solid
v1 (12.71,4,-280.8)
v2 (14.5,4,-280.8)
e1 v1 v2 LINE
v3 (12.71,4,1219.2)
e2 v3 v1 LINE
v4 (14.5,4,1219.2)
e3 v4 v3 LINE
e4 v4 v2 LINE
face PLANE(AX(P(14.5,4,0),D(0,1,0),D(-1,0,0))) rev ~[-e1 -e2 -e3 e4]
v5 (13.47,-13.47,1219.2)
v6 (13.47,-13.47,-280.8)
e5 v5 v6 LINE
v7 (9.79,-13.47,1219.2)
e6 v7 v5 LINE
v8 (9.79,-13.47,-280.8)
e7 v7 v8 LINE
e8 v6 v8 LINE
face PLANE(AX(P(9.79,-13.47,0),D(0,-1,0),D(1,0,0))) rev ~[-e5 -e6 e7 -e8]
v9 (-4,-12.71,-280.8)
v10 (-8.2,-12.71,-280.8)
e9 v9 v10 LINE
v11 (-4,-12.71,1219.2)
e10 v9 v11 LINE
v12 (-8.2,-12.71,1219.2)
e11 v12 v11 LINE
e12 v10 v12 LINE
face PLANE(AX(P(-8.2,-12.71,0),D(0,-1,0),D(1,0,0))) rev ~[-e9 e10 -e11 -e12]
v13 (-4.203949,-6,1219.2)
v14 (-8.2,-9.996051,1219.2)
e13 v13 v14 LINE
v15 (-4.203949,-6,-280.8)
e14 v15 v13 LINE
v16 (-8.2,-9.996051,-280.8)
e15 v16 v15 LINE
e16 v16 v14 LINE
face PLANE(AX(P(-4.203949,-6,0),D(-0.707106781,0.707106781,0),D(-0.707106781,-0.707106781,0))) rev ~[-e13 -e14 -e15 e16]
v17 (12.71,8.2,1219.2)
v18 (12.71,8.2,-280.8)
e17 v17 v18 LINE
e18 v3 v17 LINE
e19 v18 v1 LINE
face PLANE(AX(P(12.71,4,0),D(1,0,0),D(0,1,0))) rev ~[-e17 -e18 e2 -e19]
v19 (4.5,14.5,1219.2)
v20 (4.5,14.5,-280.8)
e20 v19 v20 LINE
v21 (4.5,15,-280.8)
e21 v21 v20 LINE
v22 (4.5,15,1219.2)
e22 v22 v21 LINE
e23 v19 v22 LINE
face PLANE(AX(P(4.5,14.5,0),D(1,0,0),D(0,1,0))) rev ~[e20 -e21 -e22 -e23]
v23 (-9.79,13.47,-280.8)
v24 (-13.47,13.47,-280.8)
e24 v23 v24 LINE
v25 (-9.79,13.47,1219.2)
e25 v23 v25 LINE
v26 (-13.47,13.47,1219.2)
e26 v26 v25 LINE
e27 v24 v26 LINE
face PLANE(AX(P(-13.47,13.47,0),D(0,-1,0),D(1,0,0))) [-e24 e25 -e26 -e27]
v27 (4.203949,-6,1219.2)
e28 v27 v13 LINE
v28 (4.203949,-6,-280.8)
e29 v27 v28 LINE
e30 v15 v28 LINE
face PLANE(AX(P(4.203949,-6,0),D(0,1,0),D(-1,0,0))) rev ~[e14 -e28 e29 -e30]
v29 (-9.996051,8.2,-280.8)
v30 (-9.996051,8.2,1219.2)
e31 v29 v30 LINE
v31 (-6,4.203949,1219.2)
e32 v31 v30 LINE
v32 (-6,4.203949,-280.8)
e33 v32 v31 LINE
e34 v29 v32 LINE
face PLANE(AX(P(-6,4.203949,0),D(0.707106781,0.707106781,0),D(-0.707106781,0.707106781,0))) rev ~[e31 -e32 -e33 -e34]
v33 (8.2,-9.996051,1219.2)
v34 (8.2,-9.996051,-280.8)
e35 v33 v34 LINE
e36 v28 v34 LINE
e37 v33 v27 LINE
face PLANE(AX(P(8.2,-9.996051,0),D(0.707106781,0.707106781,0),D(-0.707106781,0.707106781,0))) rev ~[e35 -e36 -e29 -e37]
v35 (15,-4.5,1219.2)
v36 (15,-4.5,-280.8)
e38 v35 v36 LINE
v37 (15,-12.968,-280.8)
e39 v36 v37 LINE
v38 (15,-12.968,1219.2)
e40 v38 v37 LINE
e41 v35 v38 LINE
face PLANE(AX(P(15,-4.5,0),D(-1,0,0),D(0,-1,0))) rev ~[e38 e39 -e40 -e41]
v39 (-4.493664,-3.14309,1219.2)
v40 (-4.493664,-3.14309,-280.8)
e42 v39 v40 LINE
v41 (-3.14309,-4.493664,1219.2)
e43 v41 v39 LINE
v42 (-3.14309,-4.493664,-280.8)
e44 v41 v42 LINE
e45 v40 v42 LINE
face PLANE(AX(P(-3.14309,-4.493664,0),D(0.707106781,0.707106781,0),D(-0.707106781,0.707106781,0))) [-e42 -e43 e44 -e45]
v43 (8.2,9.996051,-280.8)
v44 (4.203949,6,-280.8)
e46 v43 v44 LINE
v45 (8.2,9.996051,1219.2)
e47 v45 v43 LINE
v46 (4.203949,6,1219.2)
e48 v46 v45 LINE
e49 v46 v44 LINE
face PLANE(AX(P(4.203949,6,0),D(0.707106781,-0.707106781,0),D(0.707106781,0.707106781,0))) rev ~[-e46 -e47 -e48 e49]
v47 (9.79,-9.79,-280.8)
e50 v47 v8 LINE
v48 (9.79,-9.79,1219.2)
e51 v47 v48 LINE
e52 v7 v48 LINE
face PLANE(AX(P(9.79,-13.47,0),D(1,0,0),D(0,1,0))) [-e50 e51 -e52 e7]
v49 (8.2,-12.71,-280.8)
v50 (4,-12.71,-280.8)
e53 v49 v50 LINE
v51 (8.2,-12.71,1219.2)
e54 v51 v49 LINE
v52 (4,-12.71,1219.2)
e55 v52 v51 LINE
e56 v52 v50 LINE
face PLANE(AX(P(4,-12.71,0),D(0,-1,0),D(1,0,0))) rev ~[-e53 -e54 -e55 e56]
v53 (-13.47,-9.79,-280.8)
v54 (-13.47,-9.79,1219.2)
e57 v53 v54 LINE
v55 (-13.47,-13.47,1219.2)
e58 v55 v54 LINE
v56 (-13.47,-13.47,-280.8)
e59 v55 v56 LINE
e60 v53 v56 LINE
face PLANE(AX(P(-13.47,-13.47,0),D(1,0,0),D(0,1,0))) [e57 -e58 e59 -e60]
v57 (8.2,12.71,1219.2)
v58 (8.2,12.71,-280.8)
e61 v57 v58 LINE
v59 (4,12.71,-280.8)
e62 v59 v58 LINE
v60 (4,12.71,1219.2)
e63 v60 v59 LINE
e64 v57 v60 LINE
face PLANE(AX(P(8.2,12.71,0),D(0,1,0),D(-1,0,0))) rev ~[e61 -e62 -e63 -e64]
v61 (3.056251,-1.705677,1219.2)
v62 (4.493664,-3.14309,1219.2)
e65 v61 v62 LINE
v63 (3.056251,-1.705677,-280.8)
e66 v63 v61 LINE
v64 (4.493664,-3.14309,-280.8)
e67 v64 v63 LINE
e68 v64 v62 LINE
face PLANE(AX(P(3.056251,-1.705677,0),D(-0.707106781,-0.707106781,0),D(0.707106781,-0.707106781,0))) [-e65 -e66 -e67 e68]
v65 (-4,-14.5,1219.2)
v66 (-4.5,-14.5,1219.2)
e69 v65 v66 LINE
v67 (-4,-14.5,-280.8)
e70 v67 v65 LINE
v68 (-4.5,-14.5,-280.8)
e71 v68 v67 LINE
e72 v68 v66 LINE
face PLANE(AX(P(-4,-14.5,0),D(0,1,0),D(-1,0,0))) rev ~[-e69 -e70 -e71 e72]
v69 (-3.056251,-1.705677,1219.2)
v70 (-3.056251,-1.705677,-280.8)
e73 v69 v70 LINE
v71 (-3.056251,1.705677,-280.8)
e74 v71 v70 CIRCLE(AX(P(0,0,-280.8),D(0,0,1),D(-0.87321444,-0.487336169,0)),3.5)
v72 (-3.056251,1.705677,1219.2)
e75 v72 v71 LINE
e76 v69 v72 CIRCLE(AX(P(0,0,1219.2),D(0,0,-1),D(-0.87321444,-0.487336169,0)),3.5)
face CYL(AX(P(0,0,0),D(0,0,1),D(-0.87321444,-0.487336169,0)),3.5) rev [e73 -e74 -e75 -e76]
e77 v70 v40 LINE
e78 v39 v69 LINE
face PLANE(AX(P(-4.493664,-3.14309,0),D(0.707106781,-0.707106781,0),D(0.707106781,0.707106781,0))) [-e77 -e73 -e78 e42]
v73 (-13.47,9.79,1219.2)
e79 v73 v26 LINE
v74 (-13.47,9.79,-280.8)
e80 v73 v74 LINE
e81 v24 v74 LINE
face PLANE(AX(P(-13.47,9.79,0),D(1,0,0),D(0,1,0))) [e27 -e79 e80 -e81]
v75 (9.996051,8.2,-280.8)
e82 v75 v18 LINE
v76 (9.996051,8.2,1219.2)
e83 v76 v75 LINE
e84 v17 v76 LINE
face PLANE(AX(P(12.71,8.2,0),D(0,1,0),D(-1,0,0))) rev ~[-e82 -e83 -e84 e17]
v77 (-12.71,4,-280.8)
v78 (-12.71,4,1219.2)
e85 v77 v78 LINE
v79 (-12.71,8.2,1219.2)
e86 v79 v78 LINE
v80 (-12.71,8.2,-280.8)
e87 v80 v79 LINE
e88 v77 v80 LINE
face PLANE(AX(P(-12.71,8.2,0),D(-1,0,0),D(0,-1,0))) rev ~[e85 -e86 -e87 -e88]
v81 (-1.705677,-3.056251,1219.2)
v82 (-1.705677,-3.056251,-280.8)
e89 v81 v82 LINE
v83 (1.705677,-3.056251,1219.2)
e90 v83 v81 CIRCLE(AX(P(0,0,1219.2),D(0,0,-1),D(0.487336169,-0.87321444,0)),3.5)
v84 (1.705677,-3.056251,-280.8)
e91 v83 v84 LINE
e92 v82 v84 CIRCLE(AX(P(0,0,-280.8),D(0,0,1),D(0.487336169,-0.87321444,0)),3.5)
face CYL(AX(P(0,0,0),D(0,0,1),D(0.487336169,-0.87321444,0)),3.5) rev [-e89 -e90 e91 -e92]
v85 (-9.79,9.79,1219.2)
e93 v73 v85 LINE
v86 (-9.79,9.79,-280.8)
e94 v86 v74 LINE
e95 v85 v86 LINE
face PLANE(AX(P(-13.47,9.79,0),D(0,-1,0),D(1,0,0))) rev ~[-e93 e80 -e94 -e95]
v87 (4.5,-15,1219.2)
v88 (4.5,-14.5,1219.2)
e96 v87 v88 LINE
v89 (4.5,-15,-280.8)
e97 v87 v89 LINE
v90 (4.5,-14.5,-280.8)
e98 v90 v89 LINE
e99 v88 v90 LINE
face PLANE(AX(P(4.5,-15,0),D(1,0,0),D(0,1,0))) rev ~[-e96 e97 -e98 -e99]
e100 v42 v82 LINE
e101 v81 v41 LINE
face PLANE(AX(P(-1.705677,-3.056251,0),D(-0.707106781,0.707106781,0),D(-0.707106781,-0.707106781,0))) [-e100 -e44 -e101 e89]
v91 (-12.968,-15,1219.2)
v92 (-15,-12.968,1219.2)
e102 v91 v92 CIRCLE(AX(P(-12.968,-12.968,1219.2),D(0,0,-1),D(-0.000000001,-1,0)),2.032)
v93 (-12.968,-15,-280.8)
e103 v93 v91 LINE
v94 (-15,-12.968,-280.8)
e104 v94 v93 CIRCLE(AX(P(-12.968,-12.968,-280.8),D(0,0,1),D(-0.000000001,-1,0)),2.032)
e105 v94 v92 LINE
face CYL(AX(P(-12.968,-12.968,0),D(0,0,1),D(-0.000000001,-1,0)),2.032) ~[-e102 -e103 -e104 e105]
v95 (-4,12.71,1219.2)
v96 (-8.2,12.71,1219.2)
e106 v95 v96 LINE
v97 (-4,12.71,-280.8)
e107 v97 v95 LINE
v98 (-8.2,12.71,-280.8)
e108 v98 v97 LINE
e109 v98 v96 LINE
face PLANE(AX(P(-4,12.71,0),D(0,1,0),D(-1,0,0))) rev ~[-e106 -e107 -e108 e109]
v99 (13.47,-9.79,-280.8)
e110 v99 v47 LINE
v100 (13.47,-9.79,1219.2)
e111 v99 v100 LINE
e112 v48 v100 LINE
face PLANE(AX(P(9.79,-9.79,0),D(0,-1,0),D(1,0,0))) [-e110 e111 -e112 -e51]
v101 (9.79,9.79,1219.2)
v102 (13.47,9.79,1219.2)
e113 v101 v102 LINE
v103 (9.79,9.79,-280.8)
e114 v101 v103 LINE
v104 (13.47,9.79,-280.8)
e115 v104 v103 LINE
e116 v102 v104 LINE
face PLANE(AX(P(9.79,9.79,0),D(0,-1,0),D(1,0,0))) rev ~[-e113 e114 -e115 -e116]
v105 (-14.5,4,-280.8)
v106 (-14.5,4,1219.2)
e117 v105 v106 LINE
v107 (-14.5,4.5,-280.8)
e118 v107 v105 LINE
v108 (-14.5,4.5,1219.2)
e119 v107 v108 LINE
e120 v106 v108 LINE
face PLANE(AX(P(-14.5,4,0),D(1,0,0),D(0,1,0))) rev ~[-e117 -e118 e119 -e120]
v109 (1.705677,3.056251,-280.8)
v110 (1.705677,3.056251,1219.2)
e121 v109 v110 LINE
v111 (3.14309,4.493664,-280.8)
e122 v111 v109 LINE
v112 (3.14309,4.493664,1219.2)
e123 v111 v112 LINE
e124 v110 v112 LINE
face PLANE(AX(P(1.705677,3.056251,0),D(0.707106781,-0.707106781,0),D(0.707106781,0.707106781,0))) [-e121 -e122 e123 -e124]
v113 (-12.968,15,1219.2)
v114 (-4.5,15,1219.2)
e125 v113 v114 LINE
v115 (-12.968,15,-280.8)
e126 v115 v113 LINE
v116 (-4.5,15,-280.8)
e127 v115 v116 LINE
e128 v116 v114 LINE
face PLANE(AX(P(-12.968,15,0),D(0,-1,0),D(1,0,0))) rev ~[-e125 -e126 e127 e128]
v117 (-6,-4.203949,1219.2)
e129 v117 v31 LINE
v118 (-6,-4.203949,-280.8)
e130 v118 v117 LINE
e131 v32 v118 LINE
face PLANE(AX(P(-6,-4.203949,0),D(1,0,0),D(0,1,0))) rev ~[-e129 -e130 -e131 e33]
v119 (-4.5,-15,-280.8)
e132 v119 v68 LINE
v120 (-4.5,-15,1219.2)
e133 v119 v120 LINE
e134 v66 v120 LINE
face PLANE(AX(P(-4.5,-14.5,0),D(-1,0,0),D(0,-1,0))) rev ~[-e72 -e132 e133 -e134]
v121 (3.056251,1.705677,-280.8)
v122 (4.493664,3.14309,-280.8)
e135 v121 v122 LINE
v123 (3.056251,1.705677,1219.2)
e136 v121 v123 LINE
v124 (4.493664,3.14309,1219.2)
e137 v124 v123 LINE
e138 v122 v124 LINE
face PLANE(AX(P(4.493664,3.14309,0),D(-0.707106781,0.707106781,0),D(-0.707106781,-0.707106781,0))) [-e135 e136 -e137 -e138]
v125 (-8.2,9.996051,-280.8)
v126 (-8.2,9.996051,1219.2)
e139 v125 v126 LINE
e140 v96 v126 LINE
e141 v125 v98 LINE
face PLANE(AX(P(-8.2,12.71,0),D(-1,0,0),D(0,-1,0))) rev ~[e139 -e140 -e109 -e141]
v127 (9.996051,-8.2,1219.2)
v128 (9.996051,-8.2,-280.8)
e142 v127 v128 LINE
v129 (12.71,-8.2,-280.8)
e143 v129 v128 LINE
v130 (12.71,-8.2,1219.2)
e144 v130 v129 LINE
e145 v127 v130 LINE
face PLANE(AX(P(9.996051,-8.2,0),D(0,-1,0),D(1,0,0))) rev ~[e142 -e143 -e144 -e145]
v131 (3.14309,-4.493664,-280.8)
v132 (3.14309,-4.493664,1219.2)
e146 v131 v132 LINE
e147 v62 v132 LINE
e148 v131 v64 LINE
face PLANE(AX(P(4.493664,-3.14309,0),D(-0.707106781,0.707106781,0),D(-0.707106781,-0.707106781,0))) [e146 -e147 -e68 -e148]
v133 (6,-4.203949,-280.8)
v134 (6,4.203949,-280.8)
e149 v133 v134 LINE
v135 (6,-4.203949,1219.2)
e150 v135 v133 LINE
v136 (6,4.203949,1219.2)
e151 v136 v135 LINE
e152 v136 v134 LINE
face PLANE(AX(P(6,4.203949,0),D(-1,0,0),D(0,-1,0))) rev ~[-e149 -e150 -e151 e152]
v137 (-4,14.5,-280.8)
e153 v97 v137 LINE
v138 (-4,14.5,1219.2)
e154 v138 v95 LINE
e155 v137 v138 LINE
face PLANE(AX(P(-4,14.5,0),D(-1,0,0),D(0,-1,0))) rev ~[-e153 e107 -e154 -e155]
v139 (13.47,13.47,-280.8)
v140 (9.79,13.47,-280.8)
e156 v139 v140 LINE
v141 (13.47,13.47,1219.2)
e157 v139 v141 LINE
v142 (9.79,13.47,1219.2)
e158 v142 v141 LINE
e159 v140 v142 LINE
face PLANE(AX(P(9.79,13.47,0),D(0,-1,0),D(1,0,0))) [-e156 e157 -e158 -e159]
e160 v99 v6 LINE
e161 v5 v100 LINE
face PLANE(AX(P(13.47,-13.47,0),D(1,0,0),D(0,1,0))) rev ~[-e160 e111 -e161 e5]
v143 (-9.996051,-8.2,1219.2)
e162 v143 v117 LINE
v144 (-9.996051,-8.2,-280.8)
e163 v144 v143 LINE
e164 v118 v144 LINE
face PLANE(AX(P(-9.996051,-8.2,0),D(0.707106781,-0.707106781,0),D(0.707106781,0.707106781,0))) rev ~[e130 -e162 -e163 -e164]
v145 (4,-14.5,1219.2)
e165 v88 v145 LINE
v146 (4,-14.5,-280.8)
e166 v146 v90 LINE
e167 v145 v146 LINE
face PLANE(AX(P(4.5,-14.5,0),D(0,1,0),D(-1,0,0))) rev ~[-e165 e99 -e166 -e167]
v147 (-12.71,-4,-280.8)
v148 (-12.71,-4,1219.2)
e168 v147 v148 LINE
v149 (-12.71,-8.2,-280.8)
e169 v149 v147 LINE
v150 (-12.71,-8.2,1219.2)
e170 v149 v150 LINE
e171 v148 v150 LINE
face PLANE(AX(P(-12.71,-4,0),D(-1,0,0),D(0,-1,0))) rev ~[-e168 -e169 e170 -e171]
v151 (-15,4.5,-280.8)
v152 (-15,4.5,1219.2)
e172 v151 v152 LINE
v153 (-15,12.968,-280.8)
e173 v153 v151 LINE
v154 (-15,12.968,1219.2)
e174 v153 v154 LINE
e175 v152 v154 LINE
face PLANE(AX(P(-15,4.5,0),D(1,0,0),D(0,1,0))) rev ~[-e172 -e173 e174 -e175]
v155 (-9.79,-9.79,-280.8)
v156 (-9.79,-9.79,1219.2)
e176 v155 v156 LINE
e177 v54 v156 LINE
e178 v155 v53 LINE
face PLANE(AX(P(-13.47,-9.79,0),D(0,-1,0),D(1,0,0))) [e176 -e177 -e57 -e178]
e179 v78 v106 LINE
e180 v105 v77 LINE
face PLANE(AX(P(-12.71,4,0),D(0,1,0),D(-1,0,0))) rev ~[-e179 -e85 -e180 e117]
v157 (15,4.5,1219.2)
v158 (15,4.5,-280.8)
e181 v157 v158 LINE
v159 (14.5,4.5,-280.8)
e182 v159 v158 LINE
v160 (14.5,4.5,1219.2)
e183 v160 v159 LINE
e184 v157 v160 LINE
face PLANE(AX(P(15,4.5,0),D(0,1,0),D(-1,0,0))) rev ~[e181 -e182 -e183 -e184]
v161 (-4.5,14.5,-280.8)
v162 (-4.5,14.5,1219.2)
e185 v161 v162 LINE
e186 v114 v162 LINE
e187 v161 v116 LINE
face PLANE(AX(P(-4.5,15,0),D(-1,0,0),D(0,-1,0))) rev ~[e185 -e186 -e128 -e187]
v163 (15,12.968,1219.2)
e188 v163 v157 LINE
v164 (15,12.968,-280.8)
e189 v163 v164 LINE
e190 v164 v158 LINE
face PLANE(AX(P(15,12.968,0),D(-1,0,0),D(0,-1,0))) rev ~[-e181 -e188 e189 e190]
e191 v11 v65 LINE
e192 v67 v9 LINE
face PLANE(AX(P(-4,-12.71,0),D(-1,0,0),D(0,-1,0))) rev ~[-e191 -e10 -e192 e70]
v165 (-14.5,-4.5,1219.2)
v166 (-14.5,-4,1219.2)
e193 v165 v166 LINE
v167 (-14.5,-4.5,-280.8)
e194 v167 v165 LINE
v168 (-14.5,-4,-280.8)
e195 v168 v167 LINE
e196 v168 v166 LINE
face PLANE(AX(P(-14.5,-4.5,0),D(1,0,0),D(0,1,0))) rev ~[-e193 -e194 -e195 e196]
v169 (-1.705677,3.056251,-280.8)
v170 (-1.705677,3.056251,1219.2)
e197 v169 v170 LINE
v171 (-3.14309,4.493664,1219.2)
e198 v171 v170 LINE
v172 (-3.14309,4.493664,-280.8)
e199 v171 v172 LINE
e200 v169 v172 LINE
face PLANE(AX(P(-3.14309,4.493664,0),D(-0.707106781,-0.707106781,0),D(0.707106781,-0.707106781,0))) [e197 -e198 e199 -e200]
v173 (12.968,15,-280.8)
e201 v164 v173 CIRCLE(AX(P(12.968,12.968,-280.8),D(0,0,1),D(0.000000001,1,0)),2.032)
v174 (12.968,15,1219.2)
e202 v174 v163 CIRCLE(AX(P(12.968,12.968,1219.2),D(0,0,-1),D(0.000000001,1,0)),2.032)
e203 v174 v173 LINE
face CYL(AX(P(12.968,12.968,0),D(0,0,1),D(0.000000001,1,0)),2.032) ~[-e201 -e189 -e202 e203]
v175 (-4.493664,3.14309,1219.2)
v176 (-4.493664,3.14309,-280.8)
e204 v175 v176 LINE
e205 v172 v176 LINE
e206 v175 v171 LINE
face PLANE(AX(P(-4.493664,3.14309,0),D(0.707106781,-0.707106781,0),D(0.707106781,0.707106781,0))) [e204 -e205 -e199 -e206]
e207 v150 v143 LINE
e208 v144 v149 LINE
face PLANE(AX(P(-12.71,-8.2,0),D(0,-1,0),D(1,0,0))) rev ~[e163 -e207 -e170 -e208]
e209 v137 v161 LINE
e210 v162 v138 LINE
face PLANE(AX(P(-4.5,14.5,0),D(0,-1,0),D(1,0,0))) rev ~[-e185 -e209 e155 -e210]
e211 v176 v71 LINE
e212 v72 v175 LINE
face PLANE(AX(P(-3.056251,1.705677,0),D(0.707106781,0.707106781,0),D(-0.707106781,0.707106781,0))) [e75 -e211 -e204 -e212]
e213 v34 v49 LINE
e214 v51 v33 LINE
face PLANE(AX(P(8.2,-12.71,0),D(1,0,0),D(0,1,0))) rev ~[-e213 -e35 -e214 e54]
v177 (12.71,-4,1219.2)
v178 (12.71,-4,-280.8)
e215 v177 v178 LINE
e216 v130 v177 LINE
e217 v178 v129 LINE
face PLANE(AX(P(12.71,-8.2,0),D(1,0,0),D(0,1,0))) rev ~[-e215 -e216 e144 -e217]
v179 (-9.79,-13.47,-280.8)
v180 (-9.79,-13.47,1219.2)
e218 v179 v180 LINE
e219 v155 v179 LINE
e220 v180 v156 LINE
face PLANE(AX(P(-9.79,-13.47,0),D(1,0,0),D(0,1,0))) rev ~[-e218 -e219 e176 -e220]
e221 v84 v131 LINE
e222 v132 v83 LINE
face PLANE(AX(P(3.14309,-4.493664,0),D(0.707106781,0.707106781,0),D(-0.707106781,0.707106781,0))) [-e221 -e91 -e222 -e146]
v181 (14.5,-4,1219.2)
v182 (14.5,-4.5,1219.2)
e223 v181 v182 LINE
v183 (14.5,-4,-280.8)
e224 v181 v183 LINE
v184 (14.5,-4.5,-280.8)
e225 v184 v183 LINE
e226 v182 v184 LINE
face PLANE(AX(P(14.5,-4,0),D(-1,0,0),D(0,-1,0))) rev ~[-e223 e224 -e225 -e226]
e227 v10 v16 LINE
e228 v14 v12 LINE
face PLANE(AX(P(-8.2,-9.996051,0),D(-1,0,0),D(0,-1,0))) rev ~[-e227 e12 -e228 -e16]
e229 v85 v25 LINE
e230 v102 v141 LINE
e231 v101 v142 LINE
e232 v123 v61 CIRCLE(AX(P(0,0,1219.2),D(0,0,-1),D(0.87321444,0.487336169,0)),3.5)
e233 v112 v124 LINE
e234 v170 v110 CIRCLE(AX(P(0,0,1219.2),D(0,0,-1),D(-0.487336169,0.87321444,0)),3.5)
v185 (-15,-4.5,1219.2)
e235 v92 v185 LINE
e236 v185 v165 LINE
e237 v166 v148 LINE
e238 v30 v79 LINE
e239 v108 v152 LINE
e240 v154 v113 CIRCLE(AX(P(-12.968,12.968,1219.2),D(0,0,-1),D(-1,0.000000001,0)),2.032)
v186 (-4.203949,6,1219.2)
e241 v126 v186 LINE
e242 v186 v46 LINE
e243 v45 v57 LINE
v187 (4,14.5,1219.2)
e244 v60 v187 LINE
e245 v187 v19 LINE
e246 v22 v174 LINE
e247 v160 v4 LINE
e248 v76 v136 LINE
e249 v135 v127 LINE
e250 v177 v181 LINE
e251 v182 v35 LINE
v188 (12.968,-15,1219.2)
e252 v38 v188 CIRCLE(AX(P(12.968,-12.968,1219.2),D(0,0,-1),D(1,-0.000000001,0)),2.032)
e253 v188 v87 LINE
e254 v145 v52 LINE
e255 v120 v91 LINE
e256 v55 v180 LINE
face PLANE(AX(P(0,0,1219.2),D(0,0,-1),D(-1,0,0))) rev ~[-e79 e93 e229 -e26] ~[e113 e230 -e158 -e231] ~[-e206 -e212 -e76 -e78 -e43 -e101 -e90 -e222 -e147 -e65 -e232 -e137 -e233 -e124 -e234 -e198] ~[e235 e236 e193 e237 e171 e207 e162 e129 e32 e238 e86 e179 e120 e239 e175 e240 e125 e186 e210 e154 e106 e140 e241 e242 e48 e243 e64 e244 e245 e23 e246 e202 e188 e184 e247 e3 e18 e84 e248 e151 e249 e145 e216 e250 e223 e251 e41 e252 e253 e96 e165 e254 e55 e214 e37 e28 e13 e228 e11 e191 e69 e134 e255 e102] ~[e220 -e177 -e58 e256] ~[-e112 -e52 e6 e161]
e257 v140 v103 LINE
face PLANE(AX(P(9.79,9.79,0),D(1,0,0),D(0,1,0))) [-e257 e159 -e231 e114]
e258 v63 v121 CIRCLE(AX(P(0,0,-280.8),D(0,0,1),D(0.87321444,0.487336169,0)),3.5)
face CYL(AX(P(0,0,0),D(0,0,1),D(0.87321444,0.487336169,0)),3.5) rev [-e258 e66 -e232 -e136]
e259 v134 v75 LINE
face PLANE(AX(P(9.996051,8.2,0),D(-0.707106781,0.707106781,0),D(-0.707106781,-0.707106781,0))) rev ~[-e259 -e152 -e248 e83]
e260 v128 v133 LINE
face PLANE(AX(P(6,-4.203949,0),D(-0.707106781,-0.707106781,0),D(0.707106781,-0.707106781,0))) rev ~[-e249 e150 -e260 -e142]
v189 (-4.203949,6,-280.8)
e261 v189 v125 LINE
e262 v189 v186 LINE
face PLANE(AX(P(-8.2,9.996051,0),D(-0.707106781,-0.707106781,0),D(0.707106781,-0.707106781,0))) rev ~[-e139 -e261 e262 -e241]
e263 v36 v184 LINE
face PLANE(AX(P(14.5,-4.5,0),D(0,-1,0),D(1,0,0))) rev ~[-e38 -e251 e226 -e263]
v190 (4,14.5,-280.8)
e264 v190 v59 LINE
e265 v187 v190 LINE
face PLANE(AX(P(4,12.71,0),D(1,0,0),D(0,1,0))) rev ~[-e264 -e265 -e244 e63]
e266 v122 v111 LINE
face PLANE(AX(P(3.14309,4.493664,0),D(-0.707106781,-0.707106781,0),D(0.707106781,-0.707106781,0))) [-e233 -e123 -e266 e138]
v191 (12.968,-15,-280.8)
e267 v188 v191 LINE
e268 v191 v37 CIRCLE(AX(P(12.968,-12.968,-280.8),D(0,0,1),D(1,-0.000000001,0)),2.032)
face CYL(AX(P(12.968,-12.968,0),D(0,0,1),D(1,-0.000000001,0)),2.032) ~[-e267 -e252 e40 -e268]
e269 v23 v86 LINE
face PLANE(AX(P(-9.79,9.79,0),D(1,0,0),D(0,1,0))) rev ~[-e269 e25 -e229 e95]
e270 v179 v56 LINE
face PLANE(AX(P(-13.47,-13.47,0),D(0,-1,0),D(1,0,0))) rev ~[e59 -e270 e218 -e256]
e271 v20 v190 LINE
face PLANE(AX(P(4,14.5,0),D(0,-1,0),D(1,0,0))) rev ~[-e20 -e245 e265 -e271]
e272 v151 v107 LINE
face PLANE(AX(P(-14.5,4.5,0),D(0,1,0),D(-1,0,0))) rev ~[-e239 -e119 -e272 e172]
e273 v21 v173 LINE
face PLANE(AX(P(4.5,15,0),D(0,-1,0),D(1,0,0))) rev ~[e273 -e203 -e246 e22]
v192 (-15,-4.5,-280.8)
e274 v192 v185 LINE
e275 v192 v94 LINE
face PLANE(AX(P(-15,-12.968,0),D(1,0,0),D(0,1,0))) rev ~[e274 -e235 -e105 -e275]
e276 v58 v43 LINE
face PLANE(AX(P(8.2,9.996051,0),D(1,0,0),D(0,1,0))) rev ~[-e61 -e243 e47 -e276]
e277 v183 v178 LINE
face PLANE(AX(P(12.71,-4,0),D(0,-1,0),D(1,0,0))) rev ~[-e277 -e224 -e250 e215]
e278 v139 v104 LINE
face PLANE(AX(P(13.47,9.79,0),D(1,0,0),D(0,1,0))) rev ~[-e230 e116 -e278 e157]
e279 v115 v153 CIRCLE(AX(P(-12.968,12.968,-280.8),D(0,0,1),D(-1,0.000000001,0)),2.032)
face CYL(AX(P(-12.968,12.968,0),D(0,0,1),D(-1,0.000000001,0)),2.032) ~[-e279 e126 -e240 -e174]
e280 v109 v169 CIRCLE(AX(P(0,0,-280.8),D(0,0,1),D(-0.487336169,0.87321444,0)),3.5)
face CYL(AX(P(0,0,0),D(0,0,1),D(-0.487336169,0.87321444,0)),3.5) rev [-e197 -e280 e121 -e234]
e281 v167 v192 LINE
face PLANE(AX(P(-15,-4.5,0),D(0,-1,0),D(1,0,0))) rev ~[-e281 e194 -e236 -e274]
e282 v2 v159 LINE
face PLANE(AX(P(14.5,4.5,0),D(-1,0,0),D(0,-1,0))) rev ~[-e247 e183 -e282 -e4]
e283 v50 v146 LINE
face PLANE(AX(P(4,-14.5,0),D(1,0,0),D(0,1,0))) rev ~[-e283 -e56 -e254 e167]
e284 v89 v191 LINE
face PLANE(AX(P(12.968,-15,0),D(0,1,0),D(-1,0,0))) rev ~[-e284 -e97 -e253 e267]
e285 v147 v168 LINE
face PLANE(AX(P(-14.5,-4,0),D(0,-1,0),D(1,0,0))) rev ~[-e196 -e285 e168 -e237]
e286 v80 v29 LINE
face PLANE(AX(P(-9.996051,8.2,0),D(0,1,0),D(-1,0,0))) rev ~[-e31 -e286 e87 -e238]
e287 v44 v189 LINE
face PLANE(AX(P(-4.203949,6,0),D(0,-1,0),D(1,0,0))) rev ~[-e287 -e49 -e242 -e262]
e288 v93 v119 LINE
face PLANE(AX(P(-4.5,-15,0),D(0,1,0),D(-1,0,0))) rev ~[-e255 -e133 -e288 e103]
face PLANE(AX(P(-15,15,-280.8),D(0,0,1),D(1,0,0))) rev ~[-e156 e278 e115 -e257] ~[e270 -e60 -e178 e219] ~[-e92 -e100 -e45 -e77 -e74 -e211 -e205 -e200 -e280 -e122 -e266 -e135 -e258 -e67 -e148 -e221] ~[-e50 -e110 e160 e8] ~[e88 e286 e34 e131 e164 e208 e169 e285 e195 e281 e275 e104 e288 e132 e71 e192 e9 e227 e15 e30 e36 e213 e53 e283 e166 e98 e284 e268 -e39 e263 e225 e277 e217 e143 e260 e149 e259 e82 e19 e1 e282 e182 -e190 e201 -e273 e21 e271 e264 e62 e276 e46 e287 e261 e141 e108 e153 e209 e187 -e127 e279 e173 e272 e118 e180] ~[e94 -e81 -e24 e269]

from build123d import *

# Parameters (mm, degrees)
SKETCH3_W           = 3.68
SKETCH3_H           = 3.68
BOSS_EXTRUDE1_DEPTH = 1219.2
SKETCH5_W           = 30
SKETCH5_H           = 938.4
CUT_EXTRUDE1_DEPTH  = 1220.661280848


with BuildPart() as part:
    # Sketch3 → Boss-Extrude1 (new, symmetric)
    with BuildSketch(Plane.XY):
        with BuildLine():
            Line((-4.203948776, 6), (0, 6))
            Line((0, 6), (4.203948776, 6))
            Line((4.203948776, 6), (8.2, 9.996051224))
            Line((8.2, 9.996051224), (8.2, 12.71))
            Line((8.2, 12.71), (4, 12.71))
            Line((4, 12.71), (4, 14.5))
            Line((4, 14.5), (4.5, 14.5))
            Line((4.5, 14.5), (4.5, 15))
            Line((4.5, 15), (12.968, 15))
            ThreePointArc((12.968, 15), (14.404840979, 14.404840979), (15, 12.968))
            Line((15, 12.968), (15, 4.5))
            Line((15, 4.5), (14.5, 4.5))
            Line((14.5, 4.5), (14.5, 4))
            Line((14.5, 4), (12.71, 4))
            Line((12.71, 4), (12.71, 8.2))
            Line((12.71, 8.2), (9.996051224, 8.2))
            Line((9.996051224, 8.2), (6, 4.203948776))
            Line((6, 4.203948776), (6, 0))
            Line((6, 0), (6, -4.203948776))
            Line((6, -4.203948776), (9.996051224, -8.2))
            Line((9.996051224, -8.2), (12.71, -8.2))
            Line((12.71, -8.2), (12.71, -4))
            Line((12.71, -4), (14.5, -4))
            Line((14.5, -4), (14.5, -4.5))
            Line((14.5, -4.5), (15, -4.5))
            Line((15, -4.5), (15, -12.968))
            ThreePointArc((15, -12.968), (14.404840979, -14.404840979), (12.968, -15))
            Line((12.968, -15), (4.5, -15))
            Line((4.5, -15), (4.5, -14.5))
            Line((4.5, -14.5), (4, -14.5))
            Line((4, -14.5), (4, -12.71))
            Line((4, -12.71), (8.2, -12.71))
            Line((8.2, -12.71), (8.2, -9.996051224))
            Line((8.2, -9.996051224), (4.203948776, -6))
            Line((4.203948776, -6), (0, -6))
            Line((0, -6), (-4.203948776, -6))
            Line((-4.203948776, -6), (-8.2, -9.996051224))
            Line((-8.2, -9.996051224), (-8.2, -12.71))
            Line((-8.2, -12.71), (-4, -12.71))
            Line((-4, -12.71), (-4, -14.5))
            Line((-4, -14.5), (-4.5, -14.5))
            Line((-4.5, -14.5), (-4.5, -15))
            Line((-4.5, -15), (-12.968, -15))
            ThreePointArc((-12.968, -15), (-14.404840979, -14.404840979), (-15, -12.968))
            Line((-15, -12.968), (-15, -4.5))
            Line((-15, -4.5), (-14.5, -4.5))
            Line((-14.5, -4.5), (-14.5, -4))
            Line((-14.5, -4), (-12.71, -4))
            Line((-12.71, -4), (-12.71, -8.2))
            Line((-12.71, -8.2), (-9.996051224, -8.2))
            Line((-9.996051224, -8.2), (-6, -4.203948776))
            Line((-6, -4.203948776), (-6, 0))
            Line((-6, 0), (-6, 4.203948776))
            Line((-6, 4.203948776), (-9.996051224, 8.2))
            Line((-9.996051224, 8.2), (-12.71, 8.2))
            Line((-12.71, 8.2), (-12.71, 4))
            Line((-12.71, 4), (-14.5, 4))
            Line((-14.5, 4), (-14.5, 4.5))
            Line((-14.5, 4.5), (-15, 4.5))
            Line((-15, 4.5), (-15, 12.968))
            ThreePointArc((-15, 12.968), (-14.404840979, 14.404840979), (-12.968, 15))
            Line((-12.968, 15), (-4.5, 15))
            Line((-4.5, 15), (-4.5, 14.5))
            Line((-4.5, 14.5), (-4, 14.5))
            Line((-4, 14.5), (-4, 12.71))
            Line((-4, 12.71), (-8.2, 12.71))
            Line((-8.2, 12.71), (-8.2, 9.996051224))
            Line((-8.2, 9.996051224), (-4.203948776, 6))
        make_face()
        with Locations((-11.63, 11.63)):
            Rectangle(SKETCH3_W, SKETCH3_H, mode=Mode.SUBTRACT)
        with BuildLine():
            Line((-3.143089642, 4.493663594), (-1.705676589, 3.056250541))
            ThreePointArc((-1.705676589, 3.056250541), (0, 3.5), (1.705676589, 3.056250541))
            Line((1.705676589, 3.056250541), (3.143089642, 4.493663594))
            Line((3.143089642, 4.493663594), (4.493663594, 3.143089642))
            Line((4.493663594, 3.143089642), (3.056250541, 1.705676589))
            ThreePointArc((3.056250541, 1.705676589), (3.5, 0), (3.056250541, -1.705676589))
            Line((3.056250541, -1.705676589), (4.493663594, -3.143089642))
            Line((4.493663594, -3.143089642), (3.143089642, -4.493663594))
            Line((3.143089642, -4.493663594), (1.705676589, -3.056250541))
            ThreePointArc((1.705676589, -3.056250541), (0, -3.5), (-1.705676589, -3.056250541))
            Line((-1.705676589, -3.056250541), (-3.143089642, -4.493663594))
            Line((-3.143089642, -4.493663594), (-4.493663594, -3.143089642))
            Line((-4.493663594, -3.143089642), (-3.056250541, -1.705676589))
            ThreePointArc((-3.056250541, -1.705676589), (-3.5, 0), (-3.056250541, 1.705676589))
            Line((-3.056250541, 1.705676589), (-4.493663594, 3.143089642))
            Line((-4.493663594, 3.143089642), (-3.143089642, 4.493663594))
        make_face(mode=Mode.SUBTRACT)
        with Locations((11.63, 11.63)):
            Rectangle(SKETCH3_W, SKETCH3_H, mode=Mode.SUBTRACT)
        with Locations((11.63, -11.63)):
            Rectangle(SKETCH3_W, SKETCH3_H, mode=Mode.SUBTRACT)
        with Locations((-11.63, -11.63)):
            Rectangle(SKETCH3_W, SKETCH3_H, mode=Mode.SUBTRACT)
    extrude(amount=BOSS_EXTRUDE1_DEPTH, both=True)

    # Sketch5 → Cut-Extrude1 (cut, through all)
    with BuildSketch(Plane(origin=(0, 15, 0), x_dir=(1, 0, 0), z_dir=(0, 1, 0))):
        with Locations((0, 750)):
            Rectangle(SKETCH5_W, SKETCH5_H)
    extrude(amount=-CUT_EXTRUDE1_DEPTH, mode=Mode.SUBTRACT)


solid = part.part
